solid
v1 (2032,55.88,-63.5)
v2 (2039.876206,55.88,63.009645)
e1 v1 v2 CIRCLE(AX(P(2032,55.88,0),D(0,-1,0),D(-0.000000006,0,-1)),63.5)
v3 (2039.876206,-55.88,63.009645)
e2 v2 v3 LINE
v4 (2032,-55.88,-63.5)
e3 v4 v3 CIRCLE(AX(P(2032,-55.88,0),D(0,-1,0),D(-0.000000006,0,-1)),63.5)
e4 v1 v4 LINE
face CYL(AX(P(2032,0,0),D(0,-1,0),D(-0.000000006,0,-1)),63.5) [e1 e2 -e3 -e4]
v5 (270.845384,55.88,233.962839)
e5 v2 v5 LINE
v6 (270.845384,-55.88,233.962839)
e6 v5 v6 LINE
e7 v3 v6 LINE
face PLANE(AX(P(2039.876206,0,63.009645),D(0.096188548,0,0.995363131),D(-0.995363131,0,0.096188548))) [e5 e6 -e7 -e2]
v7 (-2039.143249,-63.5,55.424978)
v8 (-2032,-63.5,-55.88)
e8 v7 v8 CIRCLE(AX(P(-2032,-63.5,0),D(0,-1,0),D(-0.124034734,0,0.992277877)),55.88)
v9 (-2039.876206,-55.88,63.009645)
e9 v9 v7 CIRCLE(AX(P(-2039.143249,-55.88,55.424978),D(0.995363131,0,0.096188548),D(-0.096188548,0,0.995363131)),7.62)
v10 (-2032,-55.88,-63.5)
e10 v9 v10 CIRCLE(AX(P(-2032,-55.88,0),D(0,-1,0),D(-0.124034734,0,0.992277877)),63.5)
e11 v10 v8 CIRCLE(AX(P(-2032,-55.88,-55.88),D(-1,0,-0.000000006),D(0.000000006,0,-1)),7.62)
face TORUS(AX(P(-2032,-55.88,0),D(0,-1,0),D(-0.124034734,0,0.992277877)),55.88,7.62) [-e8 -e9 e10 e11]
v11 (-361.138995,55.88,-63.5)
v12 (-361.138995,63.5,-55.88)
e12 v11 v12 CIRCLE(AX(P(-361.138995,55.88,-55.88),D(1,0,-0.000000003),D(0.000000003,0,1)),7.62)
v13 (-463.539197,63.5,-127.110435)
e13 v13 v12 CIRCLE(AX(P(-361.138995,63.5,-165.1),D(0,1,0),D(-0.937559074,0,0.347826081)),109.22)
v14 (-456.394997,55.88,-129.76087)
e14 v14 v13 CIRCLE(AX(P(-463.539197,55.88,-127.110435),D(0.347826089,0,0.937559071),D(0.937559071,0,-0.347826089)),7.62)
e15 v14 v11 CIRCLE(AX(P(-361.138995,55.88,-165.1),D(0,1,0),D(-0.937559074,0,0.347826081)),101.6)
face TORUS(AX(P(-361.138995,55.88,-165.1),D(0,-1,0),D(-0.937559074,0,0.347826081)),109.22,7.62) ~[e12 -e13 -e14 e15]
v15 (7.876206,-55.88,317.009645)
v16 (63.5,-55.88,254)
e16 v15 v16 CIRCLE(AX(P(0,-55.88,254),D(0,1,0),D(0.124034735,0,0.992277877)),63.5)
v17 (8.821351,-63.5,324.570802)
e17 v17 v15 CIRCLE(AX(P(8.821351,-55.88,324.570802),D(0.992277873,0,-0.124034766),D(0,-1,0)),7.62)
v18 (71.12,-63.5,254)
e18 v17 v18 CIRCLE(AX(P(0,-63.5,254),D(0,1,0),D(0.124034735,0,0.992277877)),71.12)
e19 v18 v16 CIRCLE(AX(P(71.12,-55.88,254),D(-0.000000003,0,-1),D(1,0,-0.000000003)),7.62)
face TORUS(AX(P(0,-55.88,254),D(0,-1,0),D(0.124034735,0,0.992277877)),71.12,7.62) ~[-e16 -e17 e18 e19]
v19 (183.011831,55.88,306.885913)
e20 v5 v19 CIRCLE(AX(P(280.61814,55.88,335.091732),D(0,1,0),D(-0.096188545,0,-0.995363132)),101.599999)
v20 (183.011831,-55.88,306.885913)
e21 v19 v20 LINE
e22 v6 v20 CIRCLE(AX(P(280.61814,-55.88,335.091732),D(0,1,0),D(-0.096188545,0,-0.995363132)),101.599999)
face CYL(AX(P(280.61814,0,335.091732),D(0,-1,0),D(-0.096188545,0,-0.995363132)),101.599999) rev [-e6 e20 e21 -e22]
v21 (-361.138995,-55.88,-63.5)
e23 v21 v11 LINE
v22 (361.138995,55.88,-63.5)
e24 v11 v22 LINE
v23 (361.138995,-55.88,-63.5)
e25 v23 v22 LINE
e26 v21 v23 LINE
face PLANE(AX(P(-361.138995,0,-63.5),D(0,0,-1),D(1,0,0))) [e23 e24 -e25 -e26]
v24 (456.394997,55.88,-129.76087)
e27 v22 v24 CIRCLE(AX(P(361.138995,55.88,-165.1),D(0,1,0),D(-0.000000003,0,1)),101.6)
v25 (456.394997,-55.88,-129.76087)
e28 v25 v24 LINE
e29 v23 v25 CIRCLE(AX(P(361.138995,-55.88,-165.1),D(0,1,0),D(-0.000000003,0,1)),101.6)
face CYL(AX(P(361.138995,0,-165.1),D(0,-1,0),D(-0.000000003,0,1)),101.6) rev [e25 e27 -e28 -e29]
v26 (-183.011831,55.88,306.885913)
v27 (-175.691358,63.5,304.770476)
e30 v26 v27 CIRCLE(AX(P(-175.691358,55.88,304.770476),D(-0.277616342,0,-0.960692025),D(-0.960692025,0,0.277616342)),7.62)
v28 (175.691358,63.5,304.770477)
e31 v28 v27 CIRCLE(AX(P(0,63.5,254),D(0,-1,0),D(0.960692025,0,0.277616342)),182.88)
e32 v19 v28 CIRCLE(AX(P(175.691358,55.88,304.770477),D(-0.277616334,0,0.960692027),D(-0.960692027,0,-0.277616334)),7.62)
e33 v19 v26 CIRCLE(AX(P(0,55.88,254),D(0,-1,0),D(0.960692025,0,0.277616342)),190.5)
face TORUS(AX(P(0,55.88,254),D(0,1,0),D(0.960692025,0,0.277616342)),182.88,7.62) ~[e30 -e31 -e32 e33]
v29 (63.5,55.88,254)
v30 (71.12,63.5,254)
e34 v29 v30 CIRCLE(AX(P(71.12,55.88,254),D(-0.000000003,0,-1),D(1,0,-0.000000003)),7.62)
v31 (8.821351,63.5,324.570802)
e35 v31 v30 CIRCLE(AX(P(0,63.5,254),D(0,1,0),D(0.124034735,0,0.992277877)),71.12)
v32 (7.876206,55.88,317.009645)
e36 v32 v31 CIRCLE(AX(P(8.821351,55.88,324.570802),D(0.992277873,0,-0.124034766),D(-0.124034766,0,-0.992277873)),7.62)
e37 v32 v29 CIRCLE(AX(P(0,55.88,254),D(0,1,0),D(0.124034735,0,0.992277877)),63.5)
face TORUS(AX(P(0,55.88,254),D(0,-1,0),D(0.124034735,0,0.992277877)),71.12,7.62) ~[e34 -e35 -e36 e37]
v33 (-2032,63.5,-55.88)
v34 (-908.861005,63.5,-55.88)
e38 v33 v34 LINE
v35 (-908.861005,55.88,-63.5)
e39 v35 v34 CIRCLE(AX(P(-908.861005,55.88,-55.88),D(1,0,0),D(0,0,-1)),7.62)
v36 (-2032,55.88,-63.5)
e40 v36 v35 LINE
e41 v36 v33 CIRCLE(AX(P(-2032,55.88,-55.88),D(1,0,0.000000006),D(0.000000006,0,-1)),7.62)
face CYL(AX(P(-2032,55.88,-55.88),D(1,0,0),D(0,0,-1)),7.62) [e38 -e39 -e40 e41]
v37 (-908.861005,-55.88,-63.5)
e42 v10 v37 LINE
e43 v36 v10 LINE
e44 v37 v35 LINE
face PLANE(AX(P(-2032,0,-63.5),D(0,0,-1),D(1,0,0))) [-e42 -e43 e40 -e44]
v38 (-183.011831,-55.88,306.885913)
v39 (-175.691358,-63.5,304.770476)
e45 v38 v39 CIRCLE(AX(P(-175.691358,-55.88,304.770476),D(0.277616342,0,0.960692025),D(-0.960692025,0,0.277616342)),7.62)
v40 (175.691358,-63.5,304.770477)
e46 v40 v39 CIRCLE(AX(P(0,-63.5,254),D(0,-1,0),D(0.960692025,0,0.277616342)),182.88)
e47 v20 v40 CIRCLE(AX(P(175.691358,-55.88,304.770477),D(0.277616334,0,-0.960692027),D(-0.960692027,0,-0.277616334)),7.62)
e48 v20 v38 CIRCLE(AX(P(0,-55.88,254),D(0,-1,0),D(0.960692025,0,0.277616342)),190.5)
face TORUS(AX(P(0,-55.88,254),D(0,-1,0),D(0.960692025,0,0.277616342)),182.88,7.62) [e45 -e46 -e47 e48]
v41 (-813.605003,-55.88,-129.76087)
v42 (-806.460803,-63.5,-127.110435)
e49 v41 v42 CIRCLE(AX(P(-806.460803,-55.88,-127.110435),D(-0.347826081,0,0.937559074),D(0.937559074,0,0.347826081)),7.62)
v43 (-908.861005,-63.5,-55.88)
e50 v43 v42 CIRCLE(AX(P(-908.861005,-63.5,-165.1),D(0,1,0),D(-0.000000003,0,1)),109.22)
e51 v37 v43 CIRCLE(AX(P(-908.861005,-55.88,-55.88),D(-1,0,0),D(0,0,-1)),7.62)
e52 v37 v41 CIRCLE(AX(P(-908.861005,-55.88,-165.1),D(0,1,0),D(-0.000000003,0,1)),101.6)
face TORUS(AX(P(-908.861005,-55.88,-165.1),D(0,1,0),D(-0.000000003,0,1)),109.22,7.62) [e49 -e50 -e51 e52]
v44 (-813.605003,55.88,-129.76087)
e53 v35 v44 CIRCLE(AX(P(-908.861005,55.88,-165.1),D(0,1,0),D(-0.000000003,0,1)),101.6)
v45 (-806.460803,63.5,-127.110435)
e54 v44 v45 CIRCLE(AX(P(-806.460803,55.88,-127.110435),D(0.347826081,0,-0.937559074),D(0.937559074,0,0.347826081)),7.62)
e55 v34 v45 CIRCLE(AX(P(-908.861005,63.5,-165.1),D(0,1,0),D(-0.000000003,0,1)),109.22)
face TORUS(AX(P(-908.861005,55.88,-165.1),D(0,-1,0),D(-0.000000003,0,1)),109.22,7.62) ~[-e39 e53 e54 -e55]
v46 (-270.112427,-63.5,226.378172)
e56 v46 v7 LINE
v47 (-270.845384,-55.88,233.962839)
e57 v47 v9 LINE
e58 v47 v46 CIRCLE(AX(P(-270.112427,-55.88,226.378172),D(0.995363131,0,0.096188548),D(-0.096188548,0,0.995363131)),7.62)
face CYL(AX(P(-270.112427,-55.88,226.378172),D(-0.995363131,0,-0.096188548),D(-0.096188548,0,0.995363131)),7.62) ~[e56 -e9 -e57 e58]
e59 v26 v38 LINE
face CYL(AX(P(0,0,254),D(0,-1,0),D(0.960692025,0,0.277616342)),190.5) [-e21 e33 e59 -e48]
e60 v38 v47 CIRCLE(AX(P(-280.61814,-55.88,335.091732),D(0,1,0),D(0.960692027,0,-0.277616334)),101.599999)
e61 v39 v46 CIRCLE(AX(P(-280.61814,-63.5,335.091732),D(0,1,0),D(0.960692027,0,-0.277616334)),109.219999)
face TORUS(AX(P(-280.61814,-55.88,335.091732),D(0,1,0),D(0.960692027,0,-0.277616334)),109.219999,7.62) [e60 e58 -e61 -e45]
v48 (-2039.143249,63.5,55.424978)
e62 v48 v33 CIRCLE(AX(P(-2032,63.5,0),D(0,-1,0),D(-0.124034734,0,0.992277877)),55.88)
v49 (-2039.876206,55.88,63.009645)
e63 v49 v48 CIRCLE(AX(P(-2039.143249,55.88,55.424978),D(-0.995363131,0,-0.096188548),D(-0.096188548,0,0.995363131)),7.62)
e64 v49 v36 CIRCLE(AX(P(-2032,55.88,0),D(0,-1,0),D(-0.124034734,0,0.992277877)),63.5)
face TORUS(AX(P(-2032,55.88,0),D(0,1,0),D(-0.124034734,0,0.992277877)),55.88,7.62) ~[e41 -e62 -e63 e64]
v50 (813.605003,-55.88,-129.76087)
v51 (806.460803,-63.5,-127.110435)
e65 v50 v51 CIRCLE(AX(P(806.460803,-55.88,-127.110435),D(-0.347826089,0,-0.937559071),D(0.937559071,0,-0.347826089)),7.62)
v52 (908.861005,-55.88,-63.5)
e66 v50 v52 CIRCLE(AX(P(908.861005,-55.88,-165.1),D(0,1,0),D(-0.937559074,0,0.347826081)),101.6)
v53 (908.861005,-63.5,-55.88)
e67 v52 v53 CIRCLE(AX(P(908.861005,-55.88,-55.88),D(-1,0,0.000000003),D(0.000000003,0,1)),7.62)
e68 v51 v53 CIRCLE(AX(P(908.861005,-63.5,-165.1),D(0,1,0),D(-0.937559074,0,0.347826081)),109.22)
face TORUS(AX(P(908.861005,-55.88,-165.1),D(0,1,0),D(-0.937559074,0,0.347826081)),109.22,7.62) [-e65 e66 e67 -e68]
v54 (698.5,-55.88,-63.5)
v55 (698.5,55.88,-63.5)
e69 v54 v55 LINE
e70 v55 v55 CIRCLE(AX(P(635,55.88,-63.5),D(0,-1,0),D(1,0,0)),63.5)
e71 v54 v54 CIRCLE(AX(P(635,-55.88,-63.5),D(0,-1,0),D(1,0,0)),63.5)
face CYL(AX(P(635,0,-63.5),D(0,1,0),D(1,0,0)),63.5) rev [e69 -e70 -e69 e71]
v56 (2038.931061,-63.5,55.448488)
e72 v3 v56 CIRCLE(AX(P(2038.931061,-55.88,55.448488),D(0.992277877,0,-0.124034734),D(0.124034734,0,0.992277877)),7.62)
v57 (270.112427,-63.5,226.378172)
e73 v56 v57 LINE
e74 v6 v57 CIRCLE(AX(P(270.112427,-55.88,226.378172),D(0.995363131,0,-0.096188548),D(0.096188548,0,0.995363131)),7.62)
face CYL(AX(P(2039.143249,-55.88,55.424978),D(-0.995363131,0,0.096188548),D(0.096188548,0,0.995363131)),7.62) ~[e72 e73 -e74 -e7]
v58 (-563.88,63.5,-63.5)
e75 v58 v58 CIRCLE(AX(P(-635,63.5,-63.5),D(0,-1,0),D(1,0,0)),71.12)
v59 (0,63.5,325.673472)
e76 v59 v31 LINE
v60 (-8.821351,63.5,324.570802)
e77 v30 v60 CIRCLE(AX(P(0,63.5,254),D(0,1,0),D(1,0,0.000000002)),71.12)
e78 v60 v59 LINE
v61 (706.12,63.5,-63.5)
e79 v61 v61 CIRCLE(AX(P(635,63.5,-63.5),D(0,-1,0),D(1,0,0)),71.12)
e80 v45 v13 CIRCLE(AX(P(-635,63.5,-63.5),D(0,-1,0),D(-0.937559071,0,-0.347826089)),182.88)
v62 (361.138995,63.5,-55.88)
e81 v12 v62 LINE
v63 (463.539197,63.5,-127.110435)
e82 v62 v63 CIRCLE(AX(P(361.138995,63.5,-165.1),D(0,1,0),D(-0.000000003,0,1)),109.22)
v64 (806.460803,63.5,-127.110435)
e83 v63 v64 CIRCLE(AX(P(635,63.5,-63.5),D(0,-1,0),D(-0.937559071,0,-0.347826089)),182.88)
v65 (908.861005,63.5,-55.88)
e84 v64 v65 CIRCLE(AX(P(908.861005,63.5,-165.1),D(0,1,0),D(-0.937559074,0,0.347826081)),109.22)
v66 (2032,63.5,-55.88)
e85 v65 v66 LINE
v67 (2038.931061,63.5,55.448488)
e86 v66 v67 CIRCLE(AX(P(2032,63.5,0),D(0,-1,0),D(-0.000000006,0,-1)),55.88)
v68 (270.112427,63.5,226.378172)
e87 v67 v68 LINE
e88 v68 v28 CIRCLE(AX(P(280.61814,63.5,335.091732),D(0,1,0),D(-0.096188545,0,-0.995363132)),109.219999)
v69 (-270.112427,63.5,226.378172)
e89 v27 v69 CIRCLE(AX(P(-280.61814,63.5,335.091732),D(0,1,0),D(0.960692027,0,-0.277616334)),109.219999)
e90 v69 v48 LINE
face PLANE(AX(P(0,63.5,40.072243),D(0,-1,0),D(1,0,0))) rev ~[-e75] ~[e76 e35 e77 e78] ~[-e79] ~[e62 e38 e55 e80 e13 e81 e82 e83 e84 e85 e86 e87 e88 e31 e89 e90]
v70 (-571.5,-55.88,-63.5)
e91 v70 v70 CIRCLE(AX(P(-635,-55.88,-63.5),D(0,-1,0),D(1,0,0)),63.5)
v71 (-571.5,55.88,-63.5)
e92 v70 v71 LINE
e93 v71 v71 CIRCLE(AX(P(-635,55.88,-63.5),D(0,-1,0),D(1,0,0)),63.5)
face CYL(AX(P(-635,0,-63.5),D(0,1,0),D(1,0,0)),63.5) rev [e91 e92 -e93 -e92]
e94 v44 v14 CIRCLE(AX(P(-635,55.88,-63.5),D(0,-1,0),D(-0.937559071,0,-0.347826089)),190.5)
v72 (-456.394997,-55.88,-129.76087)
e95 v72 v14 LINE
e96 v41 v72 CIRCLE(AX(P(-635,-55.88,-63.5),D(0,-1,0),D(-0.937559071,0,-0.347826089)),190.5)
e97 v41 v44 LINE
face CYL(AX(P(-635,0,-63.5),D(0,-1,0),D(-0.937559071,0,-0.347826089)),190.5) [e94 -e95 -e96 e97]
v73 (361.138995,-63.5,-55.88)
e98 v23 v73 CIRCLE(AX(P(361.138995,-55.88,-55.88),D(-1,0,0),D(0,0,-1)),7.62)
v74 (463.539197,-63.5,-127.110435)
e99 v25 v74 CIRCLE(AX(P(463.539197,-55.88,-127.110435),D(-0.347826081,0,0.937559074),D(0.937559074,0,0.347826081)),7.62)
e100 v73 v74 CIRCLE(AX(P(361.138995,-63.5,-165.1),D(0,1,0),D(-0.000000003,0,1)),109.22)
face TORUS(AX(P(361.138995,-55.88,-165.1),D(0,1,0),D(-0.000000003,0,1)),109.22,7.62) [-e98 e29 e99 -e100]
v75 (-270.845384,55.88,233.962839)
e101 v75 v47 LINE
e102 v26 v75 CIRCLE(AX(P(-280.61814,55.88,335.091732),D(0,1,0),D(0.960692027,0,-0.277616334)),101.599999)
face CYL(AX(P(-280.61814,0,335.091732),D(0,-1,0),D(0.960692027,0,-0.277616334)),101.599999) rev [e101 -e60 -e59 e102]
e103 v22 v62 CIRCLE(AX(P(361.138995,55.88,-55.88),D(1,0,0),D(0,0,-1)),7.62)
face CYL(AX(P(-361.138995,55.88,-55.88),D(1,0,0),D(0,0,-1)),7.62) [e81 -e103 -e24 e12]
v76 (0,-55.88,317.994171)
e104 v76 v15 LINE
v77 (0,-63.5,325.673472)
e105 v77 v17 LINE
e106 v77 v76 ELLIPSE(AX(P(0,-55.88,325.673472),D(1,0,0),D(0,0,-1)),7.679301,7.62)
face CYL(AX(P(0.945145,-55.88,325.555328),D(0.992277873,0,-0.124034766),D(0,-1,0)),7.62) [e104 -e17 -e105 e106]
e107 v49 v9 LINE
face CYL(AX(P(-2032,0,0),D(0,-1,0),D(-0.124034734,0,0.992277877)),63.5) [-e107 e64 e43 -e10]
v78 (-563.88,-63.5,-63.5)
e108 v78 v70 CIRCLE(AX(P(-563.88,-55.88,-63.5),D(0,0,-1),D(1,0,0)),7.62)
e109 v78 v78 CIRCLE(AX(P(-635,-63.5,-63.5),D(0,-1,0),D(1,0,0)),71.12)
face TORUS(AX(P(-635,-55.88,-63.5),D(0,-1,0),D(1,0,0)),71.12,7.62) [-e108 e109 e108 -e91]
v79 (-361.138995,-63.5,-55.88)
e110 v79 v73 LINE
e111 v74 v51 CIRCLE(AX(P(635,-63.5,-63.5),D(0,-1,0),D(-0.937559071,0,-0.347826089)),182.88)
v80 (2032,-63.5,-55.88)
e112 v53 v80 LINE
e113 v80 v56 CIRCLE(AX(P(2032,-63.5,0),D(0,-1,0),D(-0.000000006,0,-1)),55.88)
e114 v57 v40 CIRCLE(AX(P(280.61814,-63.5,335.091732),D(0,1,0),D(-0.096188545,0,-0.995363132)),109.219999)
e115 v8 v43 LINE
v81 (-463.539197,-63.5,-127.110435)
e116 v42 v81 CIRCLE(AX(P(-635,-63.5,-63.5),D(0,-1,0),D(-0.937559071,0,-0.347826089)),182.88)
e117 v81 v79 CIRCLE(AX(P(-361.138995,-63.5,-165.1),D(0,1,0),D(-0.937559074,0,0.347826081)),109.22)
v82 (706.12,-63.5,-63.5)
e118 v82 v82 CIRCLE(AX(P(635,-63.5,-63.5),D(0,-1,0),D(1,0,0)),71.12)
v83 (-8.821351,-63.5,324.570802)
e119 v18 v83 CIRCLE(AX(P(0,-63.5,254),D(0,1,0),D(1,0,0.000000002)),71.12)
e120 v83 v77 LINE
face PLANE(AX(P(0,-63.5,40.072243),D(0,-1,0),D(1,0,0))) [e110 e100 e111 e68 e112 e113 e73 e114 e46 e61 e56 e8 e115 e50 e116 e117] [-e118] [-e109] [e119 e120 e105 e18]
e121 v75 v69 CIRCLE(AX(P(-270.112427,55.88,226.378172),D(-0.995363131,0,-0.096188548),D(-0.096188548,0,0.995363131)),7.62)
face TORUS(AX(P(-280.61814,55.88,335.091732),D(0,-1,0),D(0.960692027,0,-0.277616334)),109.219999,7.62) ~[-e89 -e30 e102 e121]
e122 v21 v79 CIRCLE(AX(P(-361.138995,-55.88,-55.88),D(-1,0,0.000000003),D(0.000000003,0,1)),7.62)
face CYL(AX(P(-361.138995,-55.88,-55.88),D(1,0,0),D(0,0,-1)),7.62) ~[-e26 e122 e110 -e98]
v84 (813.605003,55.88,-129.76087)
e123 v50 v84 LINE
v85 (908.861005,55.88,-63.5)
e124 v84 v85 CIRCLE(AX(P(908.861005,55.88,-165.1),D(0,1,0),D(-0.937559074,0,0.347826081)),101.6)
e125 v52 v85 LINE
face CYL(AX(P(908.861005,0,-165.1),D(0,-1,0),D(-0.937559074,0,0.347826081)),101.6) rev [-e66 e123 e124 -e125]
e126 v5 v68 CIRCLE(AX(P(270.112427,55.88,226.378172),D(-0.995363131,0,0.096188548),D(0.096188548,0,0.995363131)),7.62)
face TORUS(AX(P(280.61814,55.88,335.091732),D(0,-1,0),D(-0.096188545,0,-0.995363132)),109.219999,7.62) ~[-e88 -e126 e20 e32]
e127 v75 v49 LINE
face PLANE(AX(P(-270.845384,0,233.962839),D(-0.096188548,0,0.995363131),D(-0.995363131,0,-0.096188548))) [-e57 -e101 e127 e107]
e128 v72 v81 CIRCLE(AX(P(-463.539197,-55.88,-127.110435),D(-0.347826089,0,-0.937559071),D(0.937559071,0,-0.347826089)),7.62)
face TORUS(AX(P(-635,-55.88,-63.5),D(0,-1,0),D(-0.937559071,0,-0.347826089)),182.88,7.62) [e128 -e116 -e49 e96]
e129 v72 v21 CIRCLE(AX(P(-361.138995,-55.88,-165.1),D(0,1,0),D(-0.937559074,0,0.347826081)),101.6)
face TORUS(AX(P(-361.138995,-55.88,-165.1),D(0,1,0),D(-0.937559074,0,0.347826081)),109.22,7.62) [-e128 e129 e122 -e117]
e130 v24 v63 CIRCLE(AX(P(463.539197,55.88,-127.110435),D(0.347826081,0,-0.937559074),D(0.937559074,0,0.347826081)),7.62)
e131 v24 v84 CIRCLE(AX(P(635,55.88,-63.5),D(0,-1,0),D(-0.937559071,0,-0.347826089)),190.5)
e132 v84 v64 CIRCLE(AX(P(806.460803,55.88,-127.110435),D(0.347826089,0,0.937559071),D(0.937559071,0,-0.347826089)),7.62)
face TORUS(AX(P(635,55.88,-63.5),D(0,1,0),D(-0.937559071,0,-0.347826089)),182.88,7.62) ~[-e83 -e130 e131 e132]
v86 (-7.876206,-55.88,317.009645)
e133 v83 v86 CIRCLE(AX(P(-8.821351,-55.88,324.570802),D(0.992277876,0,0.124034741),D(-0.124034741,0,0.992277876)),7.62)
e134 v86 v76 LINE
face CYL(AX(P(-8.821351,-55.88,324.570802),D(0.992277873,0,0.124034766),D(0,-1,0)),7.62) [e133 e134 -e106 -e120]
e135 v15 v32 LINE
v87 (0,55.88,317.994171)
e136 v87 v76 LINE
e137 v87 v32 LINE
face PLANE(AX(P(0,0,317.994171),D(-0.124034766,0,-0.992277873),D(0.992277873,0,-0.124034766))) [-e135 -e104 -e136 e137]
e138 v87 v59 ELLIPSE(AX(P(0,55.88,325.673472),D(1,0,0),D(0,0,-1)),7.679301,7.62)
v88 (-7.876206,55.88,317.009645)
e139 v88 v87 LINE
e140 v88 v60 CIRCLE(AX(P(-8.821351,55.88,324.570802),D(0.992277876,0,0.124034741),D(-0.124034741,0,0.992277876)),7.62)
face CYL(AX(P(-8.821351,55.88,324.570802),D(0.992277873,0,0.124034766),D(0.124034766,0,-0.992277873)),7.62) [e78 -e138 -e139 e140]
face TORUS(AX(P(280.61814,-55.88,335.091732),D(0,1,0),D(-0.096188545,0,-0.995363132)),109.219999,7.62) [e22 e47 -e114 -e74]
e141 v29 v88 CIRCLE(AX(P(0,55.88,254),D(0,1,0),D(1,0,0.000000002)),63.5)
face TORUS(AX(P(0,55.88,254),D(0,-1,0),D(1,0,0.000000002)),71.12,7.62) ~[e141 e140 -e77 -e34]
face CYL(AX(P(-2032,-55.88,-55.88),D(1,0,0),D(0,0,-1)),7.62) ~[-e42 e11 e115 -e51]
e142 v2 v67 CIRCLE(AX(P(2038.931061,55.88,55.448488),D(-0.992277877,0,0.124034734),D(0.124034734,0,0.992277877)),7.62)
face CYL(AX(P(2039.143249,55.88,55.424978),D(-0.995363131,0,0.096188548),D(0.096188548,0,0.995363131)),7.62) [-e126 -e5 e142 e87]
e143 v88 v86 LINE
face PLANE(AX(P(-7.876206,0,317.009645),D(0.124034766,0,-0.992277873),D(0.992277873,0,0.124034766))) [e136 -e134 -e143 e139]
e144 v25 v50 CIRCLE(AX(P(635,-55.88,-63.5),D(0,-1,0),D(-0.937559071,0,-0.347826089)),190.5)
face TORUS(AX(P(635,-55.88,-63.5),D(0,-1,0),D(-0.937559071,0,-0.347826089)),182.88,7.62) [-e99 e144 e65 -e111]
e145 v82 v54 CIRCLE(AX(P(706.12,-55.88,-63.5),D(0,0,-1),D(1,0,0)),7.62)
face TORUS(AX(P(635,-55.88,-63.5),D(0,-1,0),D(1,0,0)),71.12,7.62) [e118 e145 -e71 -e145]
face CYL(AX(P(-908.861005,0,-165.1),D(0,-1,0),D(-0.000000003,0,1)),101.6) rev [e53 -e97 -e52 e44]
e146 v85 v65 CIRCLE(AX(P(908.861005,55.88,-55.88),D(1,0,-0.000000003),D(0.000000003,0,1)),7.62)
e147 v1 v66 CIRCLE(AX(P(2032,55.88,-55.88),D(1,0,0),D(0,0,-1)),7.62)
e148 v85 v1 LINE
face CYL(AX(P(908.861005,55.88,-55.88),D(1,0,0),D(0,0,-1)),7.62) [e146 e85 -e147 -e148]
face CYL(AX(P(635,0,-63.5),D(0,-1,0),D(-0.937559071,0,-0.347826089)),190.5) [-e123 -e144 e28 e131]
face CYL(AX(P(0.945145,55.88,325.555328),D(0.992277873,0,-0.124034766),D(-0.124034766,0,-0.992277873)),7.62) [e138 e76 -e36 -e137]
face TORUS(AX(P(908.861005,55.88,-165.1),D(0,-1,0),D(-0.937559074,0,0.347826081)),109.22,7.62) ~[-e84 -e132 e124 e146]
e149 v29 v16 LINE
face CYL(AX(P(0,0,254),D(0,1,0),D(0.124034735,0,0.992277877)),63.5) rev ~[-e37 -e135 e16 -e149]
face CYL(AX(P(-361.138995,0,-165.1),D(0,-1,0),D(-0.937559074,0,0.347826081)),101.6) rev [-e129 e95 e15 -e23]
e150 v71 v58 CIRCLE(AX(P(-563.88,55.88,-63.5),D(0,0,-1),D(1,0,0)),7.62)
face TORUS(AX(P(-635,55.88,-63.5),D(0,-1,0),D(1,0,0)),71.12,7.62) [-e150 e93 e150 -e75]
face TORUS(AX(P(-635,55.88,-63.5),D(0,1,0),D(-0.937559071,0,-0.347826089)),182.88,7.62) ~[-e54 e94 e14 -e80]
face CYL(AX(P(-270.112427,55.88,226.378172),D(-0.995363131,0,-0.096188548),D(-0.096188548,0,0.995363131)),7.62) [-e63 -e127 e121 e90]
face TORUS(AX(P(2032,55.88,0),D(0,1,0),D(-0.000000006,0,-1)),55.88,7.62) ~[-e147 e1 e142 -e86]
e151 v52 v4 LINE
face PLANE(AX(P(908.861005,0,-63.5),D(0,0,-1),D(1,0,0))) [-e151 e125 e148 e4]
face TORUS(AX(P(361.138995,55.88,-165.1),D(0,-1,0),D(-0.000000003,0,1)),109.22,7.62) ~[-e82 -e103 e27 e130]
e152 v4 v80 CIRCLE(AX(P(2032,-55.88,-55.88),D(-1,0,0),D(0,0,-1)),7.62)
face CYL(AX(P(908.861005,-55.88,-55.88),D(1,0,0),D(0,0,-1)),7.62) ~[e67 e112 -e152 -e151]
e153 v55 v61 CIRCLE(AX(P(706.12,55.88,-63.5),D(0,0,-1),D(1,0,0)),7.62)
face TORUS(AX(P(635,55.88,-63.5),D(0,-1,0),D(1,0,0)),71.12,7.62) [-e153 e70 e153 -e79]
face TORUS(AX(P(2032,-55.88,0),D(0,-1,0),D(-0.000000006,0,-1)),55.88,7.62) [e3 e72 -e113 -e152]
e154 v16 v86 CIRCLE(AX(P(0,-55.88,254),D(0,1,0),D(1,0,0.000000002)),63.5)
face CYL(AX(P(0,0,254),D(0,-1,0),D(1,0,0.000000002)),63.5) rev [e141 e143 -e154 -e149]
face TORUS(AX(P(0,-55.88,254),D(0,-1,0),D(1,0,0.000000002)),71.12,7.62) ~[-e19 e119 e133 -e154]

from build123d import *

# Parameters (mm, degrees)
F0_R     = 63.5
F1_DEPTH = 63.5
F2_R     = 7.62


with BuildPart() as f1:
    # F0 (on Front) → F1 (new body, symmetric)
    with BuildSketch(Plane.XZ):
        with BuildLine():
            Line((908.861005, -63.5), (2032, -63.5))
            ThreePointArc((2032, -63.5), (2095.377293, -3.945728), (2039.876206, 63.009645))
            Line((2039.876206, 63.009645), (270.845384, 233.962839))
            ThreePointArc((270.845384, 233.962839), (215.718143, 256.921724), (183.011831, 306.885913))
            ThreePointArc((183.011831, 306.885913), (0, 444.5), (-183.011831, 306.885913))
            ThreePointArc((-183.011831, 306.885913), (-215.718143, 256.921724), (-270.845384, 233.962839))
            Line((-270.845384, 233.962839), (-2039.876206, 63.009645))
            ThreePointArc((-2039.876206, 63.009645), (-2095.377293, -3.945728), (-2032, -63.5))
            Line((-2032, -63.5), (-908.861005, -63.5))
            ThreePointArc((-908.861005, -63.5), (-850.843316, -81.694318), (-813.605003, -129.76087))
            ThreePointArc((-813.605003, -129.76087), (-635, -254), (-456.394997, -129.76087))
            ThreePointArc((-456.394997, -129.76087), (-419.156684, -81.694318), (-361.138995, -63.5))
            Line((-361.138995, -63.5), (361.138995, -63.5))
            ThreePointArc((361.138995, -63.5), (419.156684, -81.694318), (456.394997, -129.76087))
            ThreePointArc((456.394997, -129.76087), (635, -254), (813.605003, -129.76087))
            ThreePointArc((813.605003, -129.76087), (850.843316, -81.694318), (908.861005, -63.5))
        make_face()
        with Locations((-635, -63.5)):
            Circle(F0_R, mode=Mode.SUBTRACT)
        with Locations((635, -63.5)):
            Circle(F0_R, mode=Mode.SUBTRACT)
        with BuildLine():
            ThreePointArc((7.876206, 317.009645), (47.604564, 296.024463), (63.5, 254))
            ThreePointArc((63.5, 254), (-42.024463, 206.395436), (-7.876206, 317.009645))
            Line((-7.876206, 317.009645), (0, 317.994171))
            Line((0, 317.994171), (7.876206, 317.009645))
        make_face(mode=Mode.SUBTRACT)
    extrude(amount=F1_DEPTH, both=True)

    # F2
    f2_edges = [f1.edges().sort_by_distance(p)[0] for p in [
        (-1155.360795, -63.5, 148.486242),
        (-1155.360795, 63.5, 148.486242),
        (0, -63.5, 190.5),
        (-698.5, -63.5, -63.5),
        (571.5, -63.5, -63.5),
        (1470.430502, -63.5, -63.5),
        (0, 63.5, 190.5),
        (571.5, 63.5, -63.5),
        (-698.5, 63.5, -63.5),
        (-1470.430502, -63.5, -63.5),
        (0, -63.5, -63.5),
        (-635, 63.5, -254),
    ]]
    fillet(f2_edges, radius=F2_R)


solid = f1.part
